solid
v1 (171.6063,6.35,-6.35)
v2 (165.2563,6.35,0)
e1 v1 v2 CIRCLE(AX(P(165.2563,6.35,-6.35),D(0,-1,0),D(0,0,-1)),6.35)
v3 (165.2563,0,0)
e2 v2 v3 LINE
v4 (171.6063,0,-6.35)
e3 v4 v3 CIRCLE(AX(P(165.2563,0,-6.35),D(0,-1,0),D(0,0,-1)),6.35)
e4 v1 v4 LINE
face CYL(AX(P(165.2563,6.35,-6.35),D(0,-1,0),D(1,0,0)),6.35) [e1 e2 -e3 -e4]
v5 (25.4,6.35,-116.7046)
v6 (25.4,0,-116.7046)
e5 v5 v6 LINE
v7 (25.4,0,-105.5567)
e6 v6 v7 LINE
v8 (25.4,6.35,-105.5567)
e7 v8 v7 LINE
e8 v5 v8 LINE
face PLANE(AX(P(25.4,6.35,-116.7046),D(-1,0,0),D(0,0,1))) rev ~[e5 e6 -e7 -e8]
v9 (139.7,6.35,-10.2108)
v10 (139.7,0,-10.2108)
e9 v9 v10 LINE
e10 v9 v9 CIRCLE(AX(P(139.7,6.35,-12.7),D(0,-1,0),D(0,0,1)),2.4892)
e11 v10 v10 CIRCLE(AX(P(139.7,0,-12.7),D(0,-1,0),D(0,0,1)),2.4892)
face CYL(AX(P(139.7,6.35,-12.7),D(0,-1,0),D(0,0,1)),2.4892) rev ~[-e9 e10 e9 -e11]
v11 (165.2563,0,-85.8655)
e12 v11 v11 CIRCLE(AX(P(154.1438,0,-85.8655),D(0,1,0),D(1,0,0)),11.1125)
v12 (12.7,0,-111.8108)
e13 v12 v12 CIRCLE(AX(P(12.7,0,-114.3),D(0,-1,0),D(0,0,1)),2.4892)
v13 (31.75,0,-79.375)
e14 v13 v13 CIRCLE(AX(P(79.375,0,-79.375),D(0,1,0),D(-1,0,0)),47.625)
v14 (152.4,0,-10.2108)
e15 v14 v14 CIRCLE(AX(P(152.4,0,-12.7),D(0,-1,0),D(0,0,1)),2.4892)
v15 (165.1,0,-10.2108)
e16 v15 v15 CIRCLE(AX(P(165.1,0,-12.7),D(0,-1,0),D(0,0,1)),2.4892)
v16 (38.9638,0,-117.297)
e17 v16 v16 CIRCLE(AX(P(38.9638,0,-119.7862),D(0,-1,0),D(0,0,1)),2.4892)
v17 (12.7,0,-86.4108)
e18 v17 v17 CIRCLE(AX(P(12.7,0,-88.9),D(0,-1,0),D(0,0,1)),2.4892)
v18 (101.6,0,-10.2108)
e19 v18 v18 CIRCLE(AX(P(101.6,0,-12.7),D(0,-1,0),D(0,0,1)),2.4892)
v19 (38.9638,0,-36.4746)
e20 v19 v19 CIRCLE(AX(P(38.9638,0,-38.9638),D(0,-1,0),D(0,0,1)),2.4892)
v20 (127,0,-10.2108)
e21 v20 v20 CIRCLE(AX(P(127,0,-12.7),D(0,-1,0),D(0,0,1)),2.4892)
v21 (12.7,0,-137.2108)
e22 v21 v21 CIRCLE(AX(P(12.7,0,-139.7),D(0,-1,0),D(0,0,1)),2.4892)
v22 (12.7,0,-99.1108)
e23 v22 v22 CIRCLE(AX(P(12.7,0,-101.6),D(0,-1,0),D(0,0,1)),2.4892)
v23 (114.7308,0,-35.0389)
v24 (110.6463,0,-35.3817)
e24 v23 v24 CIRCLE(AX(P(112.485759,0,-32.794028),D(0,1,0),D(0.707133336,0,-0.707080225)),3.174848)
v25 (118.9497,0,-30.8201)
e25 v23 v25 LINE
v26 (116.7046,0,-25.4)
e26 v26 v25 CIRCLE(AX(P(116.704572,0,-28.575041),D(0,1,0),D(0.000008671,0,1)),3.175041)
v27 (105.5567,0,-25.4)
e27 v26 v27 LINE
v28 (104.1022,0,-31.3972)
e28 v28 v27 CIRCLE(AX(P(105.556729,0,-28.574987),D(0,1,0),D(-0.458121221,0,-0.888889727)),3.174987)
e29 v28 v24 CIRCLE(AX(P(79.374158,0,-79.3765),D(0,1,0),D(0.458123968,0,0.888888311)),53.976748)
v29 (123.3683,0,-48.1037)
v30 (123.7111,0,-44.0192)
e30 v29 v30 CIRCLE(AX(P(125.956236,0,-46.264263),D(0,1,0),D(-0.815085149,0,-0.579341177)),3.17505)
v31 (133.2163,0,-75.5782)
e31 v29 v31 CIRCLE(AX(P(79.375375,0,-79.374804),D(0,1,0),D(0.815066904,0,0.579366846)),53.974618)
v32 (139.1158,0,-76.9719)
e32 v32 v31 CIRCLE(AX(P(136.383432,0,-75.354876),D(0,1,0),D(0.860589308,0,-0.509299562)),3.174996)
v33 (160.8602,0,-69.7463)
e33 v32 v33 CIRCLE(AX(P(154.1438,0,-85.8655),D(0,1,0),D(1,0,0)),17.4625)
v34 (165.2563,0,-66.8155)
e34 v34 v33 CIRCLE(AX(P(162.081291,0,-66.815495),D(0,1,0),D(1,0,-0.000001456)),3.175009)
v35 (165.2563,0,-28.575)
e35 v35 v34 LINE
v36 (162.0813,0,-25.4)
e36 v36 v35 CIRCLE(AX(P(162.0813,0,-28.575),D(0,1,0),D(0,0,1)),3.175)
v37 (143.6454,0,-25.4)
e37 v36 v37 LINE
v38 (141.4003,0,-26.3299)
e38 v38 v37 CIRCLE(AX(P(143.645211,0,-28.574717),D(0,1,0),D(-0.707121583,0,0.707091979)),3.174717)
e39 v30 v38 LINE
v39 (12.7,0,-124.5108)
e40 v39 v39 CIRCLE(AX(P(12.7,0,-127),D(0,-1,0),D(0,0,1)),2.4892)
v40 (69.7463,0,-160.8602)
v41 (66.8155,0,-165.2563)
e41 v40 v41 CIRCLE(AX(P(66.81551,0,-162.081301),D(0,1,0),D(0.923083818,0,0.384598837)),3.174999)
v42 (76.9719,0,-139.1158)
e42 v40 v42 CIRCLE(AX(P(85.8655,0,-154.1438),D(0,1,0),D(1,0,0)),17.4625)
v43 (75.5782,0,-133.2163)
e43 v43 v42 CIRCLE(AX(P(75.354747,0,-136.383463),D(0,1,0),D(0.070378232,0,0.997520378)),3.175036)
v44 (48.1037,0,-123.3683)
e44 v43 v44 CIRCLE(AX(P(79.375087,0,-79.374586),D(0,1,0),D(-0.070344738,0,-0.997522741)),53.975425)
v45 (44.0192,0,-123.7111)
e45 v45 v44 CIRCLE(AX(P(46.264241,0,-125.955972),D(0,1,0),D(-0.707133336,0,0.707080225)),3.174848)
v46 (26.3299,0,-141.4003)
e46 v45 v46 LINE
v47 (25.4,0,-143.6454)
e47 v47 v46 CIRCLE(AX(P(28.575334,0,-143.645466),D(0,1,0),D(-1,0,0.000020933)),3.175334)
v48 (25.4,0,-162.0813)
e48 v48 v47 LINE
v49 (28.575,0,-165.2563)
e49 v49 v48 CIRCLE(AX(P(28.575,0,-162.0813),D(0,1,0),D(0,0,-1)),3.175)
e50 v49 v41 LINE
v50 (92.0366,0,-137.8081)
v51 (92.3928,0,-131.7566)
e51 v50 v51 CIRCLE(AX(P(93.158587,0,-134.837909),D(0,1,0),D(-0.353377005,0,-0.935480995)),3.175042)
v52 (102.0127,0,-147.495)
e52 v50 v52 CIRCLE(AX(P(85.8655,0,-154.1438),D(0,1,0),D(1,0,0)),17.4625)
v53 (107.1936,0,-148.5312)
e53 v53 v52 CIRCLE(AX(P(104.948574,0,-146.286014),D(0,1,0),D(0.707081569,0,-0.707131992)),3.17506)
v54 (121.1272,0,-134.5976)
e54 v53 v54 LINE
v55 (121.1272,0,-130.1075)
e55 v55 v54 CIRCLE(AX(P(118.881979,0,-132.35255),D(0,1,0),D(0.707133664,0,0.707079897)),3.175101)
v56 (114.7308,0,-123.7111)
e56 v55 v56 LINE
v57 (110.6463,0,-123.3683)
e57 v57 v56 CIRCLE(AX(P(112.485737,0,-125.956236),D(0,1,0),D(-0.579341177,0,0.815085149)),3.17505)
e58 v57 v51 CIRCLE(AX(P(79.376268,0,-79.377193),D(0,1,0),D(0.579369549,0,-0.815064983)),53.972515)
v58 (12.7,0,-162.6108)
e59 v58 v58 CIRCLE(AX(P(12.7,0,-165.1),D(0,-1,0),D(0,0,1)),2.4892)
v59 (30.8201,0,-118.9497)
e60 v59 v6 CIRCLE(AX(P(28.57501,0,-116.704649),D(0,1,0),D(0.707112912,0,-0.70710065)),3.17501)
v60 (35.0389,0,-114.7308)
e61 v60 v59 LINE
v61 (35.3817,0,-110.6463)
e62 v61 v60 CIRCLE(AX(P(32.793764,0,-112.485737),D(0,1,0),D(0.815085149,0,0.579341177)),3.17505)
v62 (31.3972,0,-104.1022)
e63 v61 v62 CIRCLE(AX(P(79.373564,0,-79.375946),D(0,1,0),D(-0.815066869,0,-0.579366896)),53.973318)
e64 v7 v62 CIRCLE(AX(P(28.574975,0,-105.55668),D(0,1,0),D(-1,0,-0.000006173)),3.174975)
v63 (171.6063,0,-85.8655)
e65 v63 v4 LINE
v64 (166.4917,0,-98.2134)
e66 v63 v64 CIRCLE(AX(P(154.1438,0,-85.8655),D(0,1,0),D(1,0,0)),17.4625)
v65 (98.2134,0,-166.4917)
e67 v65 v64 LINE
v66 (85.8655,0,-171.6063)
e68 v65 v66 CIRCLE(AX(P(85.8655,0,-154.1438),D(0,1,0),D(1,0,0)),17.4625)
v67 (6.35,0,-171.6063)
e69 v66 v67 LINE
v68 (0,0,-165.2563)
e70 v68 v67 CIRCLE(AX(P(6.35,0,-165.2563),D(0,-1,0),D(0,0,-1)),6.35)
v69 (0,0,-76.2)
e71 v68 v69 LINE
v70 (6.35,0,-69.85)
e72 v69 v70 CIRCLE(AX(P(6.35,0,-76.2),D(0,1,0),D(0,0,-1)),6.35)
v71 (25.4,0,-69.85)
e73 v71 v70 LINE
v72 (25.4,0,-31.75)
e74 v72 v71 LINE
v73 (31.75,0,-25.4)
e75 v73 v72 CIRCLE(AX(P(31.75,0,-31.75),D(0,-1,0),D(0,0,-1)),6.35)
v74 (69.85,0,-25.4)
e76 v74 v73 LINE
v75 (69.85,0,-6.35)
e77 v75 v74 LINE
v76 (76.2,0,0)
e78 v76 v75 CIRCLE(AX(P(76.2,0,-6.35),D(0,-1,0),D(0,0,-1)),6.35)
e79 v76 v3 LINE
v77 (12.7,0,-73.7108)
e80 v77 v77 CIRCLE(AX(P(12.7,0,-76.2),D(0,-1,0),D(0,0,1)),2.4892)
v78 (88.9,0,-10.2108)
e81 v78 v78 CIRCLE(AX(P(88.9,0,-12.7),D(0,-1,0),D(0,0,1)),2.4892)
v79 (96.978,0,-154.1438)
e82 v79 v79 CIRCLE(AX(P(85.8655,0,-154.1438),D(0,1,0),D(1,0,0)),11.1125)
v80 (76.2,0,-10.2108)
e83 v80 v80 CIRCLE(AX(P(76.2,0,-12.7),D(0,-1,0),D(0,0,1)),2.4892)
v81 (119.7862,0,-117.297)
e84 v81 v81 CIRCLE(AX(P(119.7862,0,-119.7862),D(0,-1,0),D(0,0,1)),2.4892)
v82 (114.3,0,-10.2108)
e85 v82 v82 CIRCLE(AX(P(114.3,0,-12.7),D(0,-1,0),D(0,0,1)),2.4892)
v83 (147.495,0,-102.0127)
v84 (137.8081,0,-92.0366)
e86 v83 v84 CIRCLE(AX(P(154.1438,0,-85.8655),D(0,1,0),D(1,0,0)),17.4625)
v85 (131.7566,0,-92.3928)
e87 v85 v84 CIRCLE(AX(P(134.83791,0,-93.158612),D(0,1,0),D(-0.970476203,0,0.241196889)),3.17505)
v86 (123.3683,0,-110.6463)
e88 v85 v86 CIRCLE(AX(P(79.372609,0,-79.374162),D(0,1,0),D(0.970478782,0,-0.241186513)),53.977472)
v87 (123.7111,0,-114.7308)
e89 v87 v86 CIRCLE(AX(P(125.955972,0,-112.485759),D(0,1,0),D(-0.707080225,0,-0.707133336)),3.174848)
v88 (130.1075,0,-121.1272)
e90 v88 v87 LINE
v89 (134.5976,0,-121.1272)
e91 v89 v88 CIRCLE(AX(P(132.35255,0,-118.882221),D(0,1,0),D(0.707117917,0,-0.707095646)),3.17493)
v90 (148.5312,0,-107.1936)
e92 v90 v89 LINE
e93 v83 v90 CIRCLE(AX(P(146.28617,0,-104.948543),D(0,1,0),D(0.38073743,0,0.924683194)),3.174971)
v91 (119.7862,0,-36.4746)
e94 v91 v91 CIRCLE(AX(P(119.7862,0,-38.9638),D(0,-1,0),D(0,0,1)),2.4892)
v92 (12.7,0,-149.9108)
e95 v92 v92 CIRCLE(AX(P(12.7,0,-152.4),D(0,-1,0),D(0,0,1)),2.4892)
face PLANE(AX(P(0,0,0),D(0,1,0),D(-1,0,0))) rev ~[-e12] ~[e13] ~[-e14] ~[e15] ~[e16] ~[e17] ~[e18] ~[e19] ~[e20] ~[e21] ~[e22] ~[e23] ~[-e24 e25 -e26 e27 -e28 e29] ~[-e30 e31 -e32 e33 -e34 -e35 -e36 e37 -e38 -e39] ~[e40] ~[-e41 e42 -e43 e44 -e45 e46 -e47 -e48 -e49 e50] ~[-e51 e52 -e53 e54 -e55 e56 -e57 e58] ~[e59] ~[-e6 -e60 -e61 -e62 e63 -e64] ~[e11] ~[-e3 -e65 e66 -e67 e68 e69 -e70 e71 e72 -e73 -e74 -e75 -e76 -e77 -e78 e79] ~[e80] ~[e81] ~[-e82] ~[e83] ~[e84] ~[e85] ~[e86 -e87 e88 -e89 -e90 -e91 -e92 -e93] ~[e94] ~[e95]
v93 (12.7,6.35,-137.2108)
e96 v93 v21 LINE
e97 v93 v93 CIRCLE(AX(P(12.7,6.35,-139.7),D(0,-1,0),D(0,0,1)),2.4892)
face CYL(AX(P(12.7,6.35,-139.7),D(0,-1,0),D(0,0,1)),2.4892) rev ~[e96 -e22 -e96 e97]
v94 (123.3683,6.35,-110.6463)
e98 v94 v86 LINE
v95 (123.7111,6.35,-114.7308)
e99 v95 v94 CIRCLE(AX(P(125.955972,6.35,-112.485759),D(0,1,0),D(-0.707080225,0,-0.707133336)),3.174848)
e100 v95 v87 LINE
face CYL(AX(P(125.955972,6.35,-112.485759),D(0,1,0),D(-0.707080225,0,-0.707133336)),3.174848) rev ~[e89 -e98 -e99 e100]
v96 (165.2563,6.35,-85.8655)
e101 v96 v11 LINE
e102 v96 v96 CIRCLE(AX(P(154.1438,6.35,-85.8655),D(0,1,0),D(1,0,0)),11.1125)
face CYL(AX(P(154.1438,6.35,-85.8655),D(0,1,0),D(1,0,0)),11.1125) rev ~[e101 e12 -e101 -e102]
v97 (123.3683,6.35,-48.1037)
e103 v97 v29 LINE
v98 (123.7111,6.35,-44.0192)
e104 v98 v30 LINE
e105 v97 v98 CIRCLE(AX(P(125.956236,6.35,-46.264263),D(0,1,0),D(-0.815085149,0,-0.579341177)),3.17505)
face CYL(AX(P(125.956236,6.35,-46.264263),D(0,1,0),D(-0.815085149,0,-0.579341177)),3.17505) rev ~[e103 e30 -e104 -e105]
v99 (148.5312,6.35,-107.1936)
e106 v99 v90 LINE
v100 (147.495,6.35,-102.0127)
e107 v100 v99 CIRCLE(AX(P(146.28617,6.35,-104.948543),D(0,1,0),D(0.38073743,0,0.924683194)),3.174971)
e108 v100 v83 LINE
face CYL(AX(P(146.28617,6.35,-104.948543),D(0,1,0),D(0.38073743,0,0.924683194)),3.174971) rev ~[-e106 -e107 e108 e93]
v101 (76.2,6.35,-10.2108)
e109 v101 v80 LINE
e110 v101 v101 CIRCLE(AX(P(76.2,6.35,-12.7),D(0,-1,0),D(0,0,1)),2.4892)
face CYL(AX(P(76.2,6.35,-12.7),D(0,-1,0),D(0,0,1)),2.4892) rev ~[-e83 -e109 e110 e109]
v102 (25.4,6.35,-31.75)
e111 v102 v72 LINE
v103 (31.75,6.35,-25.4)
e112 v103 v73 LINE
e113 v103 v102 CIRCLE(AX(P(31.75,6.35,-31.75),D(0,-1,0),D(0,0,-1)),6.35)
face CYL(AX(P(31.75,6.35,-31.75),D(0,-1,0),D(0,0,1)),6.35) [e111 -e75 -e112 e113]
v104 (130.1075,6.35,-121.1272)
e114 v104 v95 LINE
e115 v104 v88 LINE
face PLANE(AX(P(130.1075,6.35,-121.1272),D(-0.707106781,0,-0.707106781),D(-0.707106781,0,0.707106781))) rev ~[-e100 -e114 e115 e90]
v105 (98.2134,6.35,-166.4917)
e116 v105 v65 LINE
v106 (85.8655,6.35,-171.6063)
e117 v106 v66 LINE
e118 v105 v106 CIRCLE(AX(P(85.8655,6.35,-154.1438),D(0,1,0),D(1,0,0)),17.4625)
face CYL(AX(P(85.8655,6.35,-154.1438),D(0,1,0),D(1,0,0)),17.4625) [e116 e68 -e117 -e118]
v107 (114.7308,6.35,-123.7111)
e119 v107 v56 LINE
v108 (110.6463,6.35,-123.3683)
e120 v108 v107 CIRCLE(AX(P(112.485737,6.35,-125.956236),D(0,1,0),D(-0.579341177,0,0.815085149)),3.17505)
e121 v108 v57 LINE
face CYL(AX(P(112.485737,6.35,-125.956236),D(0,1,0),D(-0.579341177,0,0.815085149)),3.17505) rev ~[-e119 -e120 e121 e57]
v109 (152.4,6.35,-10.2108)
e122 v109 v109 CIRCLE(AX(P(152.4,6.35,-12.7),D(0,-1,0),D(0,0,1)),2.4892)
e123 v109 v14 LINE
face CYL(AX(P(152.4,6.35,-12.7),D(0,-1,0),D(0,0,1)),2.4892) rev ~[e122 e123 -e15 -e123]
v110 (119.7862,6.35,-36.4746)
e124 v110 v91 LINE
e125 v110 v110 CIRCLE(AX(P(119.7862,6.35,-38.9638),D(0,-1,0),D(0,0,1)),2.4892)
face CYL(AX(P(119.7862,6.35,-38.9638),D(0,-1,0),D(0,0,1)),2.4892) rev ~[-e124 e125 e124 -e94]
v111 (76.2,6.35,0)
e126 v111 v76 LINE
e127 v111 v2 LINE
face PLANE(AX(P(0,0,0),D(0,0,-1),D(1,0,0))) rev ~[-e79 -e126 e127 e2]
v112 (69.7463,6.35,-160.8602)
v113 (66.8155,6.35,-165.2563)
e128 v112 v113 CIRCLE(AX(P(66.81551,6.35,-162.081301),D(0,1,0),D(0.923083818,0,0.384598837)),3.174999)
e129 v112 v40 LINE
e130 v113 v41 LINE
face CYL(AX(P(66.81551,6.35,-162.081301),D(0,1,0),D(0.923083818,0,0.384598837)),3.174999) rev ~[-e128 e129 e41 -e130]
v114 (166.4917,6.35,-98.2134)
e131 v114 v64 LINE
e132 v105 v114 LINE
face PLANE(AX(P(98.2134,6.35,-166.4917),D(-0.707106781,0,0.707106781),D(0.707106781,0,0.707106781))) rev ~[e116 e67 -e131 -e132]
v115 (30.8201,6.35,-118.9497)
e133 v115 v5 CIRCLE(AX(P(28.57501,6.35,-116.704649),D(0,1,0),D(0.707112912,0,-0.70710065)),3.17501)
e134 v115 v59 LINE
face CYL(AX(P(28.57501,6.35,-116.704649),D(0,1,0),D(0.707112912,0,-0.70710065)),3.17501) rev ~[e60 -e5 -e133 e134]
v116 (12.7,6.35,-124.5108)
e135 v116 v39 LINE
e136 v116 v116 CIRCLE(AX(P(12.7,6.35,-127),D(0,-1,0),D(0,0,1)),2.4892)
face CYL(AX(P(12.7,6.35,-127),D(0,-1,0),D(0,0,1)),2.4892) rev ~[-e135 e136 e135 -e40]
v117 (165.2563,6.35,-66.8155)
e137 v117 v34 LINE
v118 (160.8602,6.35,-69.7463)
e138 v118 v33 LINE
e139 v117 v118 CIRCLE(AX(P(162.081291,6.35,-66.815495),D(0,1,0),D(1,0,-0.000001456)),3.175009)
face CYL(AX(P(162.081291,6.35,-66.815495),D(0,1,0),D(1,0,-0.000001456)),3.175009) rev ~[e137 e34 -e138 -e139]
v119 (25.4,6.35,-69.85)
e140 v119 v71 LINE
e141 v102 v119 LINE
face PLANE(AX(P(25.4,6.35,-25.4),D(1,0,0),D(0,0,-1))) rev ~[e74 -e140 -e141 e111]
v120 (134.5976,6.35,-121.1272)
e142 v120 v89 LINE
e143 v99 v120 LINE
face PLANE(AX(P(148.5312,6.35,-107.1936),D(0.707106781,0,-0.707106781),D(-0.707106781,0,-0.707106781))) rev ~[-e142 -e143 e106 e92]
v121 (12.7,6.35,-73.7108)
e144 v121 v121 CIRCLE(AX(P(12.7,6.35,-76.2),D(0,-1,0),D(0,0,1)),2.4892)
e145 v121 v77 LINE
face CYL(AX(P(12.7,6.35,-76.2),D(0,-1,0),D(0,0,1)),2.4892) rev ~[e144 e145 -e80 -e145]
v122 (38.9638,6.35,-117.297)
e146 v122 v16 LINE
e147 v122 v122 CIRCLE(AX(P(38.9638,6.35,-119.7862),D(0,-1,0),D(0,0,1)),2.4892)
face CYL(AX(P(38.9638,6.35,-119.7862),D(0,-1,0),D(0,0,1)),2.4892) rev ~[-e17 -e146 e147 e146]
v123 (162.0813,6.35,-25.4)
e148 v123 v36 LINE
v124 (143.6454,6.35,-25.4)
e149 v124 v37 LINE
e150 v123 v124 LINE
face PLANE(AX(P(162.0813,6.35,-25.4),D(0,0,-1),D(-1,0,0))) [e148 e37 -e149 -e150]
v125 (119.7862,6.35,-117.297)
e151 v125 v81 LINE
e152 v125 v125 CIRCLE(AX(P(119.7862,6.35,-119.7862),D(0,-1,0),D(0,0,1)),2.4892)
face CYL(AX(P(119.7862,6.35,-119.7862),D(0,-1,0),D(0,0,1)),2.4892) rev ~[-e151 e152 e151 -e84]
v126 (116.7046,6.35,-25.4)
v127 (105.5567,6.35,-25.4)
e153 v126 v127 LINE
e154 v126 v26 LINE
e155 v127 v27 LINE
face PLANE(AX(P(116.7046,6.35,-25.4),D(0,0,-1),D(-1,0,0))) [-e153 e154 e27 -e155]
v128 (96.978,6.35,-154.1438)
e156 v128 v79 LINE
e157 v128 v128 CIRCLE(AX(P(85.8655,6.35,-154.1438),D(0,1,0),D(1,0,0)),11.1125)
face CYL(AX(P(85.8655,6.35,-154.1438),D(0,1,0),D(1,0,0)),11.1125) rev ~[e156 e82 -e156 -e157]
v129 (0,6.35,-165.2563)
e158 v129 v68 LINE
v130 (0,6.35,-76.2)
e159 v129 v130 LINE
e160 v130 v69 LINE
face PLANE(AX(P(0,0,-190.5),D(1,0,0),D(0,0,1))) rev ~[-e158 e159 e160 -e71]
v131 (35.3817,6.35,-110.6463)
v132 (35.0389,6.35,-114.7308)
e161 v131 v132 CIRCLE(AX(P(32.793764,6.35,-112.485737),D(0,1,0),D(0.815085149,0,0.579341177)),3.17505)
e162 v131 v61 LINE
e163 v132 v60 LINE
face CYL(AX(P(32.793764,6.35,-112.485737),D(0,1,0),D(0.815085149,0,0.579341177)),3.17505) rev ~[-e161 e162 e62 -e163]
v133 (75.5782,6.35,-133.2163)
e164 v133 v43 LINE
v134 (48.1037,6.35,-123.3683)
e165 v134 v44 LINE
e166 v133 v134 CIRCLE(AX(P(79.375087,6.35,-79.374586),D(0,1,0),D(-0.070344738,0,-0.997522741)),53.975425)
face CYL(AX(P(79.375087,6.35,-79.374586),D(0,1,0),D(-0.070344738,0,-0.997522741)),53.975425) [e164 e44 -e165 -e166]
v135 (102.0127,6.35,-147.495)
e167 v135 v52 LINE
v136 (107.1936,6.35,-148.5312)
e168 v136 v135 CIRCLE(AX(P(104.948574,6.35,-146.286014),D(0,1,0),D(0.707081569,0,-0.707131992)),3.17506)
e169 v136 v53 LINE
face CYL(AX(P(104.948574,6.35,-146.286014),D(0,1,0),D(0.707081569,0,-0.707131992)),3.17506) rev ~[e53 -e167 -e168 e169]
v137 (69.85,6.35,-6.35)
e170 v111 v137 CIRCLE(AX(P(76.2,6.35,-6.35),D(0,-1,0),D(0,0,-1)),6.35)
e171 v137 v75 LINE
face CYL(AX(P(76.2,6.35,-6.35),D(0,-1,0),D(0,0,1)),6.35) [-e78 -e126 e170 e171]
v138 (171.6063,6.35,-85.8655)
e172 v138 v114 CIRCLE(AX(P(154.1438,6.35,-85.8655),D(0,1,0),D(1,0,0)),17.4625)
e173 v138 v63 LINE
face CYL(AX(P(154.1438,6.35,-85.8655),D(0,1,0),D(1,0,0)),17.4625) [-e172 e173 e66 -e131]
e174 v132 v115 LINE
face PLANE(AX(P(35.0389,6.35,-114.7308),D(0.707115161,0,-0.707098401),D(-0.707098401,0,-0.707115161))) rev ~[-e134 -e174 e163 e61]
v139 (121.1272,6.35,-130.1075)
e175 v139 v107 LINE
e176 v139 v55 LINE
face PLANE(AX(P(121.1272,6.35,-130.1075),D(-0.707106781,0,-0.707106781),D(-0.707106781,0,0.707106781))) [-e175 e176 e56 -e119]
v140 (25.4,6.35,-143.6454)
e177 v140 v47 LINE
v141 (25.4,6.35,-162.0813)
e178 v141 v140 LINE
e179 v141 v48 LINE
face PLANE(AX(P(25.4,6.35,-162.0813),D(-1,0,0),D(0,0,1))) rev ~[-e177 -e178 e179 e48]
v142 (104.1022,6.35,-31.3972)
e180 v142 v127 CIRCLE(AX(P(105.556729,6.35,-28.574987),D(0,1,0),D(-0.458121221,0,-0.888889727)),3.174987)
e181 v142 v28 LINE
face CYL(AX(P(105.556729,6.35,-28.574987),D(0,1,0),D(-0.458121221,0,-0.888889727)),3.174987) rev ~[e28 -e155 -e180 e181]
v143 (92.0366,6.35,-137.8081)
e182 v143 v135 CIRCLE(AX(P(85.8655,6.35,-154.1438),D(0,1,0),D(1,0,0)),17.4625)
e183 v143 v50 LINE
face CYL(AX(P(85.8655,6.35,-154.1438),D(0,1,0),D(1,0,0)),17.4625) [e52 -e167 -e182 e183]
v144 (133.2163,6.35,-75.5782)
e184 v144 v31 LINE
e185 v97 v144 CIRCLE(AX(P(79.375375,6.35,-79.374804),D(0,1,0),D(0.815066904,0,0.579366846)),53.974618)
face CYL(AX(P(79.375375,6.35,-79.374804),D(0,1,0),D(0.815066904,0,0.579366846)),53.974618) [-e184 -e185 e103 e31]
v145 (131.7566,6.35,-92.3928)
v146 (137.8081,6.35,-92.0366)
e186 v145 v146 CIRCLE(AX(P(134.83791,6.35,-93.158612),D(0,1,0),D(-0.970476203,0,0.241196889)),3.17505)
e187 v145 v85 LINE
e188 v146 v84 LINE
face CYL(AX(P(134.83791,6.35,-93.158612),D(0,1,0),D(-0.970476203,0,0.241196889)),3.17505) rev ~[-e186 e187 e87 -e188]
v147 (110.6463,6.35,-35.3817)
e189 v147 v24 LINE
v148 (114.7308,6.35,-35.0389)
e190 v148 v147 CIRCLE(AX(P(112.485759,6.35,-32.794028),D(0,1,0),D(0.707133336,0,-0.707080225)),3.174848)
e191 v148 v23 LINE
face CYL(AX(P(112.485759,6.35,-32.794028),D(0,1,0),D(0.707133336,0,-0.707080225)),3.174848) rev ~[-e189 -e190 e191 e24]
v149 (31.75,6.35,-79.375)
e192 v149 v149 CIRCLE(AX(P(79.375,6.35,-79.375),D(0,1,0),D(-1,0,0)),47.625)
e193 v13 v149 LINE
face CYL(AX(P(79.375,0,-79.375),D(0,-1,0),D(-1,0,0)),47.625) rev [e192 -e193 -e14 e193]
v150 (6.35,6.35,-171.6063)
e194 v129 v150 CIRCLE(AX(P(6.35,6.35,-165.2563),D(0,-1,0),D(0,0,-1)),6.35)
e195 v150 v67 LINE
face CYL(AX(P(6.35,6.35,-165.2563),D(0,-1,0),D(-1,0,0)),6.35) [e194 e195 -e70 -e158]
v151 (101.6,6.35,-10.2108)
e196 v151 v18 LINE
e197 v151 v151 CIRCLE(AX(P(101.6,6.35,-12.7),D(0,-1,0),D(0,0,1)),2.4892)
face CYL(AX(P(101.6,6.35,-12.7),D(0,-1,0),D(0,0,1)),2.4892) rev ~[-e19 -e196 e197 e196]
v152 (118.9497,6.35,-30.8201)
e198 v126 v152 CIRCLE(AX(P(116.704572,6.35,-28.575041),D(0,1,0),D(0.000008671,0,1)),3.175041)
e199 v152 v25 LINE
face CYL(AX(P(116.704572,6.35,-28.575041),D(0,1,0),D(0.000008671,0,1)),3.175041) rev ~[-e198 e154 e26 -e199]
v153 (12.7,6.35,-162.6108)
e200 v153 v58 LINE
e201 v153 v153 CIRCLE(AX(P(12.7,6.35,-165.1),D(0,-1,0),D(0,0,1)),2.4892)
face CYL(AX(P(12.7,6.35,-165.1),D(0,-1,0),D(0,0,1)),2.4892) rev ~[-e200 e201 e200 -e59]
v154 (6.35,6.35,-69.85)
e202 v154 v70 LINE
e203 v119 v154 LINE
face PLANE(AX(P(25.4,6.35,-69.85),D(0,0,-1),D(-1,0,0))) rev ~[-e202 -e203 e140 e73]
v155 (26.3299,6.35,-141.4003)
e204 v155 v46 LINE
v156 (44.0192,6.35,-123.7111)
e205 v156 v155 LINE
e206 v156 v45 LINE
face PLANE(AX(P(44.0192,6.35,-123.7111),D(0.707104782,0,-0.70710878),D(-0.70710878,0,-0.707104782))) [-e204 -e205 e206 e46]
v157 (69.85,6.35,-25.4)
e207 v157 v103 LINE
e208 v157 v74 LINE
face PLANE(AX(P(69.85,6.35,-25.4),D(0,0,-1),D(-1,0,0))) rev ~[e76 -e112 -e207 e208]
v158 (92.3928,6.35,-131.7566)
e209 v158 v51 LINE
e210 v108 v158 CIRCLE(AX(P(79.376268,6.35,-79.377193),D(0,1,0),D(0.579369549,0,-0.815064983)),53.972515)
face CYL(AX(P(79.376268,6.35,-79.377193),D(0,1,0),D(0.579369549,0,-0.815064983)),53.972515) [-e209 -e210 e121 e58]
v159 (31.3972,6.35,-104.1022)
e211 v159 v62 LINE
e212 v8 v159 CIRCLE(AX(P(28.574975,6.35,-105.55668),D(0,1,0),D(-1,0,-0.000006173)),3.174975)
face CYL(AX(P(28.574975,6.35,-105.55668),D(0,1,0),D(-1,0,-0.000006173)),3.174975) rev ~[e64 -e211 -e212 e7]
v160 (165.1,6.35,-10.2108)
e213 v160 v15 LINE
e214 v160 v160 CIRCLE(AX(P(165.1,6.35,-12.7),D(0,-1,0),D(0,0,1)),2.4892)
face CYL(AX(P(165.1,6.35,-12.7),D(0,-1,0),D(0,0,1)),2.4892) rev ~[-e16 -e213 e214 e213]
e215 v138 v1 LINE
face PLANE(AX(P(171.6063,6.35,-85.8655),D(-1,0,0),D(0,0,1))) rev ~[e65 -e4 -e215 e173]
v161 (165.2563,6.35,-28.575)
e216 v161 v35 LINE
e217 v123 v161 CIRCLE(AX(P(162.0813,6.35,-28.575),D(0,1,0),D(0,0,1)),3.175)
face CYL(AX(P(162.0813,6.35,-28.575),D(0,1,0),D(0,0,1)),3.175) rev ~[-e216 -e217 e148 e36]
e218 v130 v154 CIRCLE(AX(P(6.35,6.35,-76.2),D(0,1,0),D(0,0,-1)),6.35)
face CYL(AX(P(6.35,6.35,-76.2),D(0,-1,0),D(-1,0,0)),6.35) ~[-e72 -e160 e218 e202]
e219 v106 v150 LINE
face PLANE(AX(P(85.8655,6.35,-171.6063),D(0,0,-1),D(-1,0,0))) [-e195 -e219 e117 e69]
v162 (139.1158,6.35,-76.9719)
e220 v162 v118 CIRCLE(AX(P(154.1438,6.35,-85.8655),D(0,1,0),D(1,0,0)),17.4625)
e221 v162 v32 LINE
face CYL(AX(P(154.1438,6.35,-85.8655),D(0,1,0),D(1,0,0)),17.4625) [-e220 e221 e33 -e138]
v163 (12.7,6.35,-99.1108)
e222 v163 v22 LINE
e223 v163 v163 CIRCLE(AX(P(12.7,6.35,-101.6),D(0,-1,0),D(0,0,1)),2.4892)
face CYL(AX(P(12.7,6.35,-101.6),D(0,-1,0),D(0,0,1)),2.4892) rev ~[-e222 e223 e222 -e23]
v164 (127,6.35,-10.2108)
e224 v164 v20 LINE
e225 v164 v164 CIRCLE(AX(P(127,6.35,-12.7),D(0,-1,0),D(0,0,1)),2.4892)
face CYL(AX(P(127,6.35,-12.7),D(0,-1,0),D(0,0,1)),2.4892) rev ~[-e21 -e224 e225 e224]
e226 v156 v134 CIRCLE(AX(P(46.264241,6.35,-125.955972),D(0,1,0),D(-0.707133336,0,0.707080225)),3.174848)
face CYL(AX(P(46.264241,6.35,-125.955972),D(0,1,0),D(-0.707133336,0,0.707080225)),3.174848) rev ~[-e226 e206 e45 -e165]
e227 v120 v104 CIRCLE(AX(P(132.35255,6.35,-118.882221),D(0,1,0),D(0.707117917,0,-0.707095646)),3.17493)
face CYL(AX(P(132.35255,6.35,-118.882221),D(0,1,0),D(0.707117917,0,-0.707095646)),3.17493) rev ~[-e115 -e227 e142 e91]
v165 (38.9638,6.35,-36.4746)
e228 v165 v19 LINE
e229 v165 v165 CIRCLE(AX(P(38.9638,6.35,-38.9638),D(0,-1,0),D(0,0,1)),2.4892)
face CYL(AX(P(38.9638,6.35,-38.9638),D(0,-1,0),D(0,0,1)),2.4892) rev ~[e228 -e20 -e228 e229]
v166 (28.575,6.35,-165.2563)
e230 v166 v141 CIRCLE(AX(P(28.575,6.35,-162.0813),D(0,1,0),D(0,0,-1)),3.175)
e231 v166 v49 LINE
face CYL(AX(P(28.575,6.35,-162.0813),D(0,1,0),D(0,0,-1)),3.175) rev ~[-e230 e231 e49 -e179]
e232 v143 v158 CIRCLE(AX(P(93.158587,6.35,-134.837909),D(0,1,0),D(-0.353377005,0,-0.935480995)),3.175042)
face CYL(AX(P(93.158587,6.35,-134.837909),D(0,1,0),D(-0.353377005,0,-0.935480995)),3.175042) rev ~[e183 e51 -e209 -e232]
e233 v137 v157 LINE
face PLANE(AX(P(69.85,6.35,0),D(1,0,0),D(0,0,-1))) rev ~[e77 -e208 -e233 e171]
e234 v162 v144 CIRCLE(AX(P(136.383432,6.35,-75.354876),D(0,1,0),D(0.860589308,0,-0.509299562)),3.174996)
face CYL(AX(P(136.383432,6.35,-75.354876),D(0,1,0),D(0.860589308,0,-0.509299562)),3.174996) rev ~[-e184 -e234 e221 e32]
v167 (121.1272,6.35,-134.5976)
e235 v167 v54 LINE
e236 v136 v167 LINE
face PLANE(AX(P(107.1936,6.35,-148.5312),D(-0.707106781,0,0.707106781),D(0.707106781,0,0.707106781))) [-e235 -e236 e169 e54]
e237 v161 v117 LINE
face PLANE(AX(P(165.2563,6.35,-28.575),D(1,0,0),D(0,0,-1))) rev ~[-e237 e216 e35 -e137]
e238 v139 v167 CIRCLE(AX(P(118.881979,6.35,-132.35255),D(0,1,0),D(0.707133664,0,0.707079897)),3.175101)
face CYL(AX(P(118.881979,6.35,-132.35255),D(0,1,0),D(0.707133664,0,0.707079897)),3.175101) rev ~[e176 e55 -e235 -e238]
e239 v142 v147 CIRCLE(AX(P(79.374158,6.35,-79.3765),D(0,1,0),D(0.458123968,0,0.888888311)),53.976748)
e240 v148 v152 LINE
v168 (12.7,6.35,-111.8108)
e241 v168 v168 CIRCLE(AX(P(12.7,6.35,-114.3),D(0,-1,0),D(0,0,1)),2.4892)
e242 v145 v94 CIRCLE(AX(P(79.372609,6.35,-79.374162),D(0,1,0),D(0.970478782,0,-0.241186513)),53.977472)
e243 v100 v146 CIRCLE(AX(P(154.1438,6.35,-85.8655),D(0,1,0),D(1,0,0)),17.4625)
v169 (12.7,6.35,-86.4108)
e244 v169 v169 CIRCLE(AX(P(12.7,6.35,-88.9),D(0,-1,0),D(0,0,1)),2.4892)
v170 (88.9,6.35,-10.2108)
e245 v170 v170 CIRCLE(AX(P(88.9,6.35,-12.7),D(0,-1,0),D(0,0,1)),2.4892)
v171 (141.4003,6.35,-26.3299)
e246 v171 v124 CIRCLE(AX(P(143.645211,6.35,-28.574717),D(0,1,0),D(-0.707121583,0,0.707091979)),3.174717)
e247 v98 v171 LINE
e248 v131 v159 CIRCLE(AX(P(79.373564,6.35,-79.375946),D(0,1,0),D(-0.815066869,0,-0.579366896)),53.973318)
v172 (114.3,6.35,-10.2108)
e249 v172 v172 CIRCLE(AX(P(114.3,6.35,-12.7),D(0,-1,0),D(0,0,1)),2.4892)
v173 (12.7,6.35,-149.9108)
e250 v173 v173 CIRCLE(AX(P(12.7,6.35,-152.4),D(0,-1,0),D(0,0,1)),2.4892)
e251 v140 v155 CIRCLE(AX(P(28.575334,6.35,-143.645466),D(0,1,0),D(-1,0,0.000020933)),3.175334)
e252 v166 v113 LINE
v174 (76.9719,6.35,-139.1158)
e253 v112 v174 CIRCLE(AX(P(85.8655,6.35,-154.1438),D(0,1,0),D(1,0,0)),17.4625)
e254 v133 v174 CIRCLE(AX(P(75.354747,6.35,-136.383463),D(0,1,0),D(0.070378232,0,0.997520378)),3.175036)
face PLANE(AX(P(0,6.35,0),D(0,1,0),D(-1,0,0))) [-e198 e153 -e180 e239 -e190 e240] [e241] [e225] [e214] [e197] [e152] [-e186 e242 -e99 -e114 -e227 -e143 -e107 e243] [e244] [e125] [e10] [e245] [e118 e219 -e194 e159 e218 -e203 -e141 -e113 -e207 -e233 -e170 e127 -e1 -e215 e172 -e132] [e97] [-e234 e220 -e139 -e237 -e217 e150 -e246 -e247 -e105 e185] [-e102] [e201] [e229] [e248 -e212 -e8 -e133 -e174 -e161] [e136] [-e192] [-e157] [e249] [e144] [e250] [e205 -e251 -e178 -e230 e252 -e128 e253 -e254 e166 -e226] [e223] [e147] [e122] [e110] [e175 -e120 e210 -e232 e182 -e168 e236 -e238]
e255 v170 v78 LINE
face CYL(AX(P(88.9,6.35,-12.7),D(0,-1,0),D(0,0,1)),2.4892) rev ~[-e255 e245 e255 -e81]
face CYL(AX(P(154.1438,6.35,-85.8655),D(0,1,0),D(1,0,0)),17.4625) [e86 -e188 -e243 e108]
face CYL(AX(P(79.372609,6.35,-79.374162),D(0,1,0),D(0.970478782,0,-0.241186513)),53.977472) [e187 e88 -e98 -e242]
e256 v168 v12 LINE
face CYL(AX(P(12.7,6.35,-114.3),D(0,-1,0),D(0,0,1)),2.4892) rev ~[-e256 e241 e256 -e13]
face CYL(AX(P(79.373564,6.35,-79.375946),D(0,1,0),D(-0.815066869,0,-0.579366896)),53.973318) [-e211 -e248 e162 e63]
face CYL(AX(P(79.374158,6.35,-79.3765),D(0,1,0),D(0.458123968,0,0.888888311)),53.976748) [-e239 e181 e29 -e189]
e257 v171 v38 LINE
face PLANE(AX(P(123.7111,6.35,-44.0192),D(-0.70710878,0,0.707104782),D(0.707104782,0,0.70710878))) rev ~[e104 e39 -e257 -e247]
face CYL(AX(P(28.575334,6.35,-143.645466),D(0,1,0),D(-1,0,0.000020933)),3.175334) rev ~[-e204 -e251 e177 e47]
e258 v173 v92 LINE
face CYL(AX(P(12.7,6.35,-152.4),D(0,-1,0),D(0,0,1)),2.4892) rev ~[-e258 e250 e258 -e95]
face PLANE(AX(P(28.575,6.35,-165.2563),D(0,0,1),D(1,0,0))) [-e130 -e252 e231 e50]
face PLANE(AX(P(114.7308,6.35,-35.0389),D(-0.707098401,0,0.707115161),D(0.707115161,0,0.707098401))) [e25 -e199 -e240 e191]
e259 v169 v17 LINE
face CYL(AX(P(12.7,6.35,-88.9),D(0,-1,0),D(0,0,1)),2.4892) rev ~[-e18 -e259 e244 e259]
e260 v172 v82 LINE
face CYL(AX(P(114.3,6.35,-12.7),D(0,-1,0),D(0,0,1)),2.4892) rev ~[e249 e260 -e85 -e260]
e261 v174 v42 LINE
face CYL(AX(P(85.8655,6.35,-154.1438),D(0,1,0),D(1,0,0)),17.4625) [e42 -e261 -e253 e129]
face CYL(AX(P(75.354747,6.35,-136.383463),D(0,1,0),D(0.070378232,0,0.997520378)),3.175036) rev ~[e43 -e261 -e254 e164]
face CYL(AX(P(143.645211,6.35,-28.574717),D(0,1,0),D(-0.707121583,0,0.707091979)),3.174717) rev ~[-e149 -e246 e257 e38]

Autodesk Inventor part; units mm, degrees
ref_plane "YZ Plane" through (0, 0, 0) normal (1, 0, 0) x (0, 1, 0)
ref_plane "XZ Plane" through (0, 0, 0) normal (0, 1, 0) x (-1, 0, 0)
ref_plane "XY Plane" through (0, 0, 0) normal (0, 0, 1) x (1, 0, 0)
sketch "Sketch1" plane through (0, 0, 0) normal (0, 1, 0) x (-1, 0, 0)
  line L0 (0, 0) -> (-190.5, 0)
  line L1 (-190.5, 0) -> (-190.5, -190.5)
  line L2 (-190.5, -190.5) -> (0, -190.5)
  line L3 (0, -190.5) -> (0, 0)
  circle A0 centre (-79.375, -79.375) radius 47.625
  line L4 (-25.4, -190.5) -> (-25.4, 0) construction
  line L5 (0, -25.4) -> (-190.5, -25.4) construction
  line L6 (0, 0) -> (-190.5, -190.5) construction
  circle A1 centre (-79.375, -79.375) radius 53.975 construction
  dimension "d0" = 95.25
  dimension "d3" = 25.4
  dimension "d4" = 25.4
  dimension "d5" = 107.95
  dimension "d48" = 165.1
extrude "Extrusion1" add sketch "Sketch1" along normal blind 6.35
sketch "Sketch2" plane through (0, 6.35, 0) normal (0, 1, 0) x (1, 0, 0)
  circle A0 centre (79.375, 79.375) radius 47.625 construction
  circle A1 centre (79.375, 79.375) radius 57.15 construction
  line L0 (0, 190.5) -> (0, 0) construction
  arc A2 (177.8, 76.2) -> (76.2, 177.8) centre (76.2, 76.2) ccw construction
  line L1 (38.9638, 38.9638) -> (119.7862, 38.9638) construction
  line L2 (119.7862, 38.9638) -> (119.7862, 119.7862) construction
  line L3 (119.7862, 119.7862) -> (38.9638, 119.7862) construction
  line L4 (38.9638, 119.7862) -> (38.9638, 38.9638) construction
  dimension "d9" = 114.3
hole "Hole1" at (38.9638, 6.35, -38.9638) at (119.7862, 6.35, -119.7862) at (119.7862, 6.35, -38.9638) at (38.9638, 6.35, -119.7862) direction (0, -1, 0) diameter 4.9784 end through all
sketch "Sketch4" plane through (0, 6.35, 0) normal (0, 1, 0) x (1, 0, 0)
  line L0 (0, 0) -> (190.5, 0) projected
  line L1 (0, 0) -> (25.4, 0)
  line L2 (25.4, 0) -> (25.4, 69.85)
  line L3 (25.4, 69.85) -> (0, 69.85)
  line L4 (0, 69.85) -> (0, 0)
  line L5 (25.4, 0) -> (69.85, 0)
  line L6 (69.85, 0) -> (69.85, 25.4)
  line L7 (69.85, 25.4) -> (25.4, 25.4)
  line L8 (25.4, 25.4) -> (25.4, 0)
  dimension "d26" = 25.4
  dimension "d27" = 69.85
  dimension "d28" = 44.45
  dimension "d29" = 25.4
extrude "Extrusion3" cut sketch "Sketch4" against normal through all
sketch "Sketch5" plane through (0, 6.35, 0) normal (0, 1, 0) x (1, 0, 0)
  circle A0 centre (154.1438, 85.8655) radius 11.1125
  circle A1 centre (79.375, 79.375) radius 47.625 construction
  circle A2 centre (79.375, 79.375) radius 75.05 construction
  circle A3 centre (153.2048, 55.4) radius 25.4 construction
  circle A4 centre (119.7862, 38.9638) radius 2.4892 construction
  circle A5 centre (38.9638, 38.9638) radius 2.4892 construction
  circle A6 centre (119.7862, 119.7862) radius 2.4892 construction
  line L0 (38.9638, 38.9638) -> (119.7862, 119.7862) construction
  circle A7 centre (85.8655, 154.1438) radius 11.1125
  circle A8 centre (153.2048, 55.4) radius 7.62 construction
  circle A9 centre (154.1438, 85.8655) radius 22.86 construction
  line L1 (69.85, 0) -> (69.85, 25.4) construction
  line L2 (69.85, 25.4) -> (168.2375, 25.4) construction
  circle A10 centre (153.2048, 55.4) radius 30 construction
  circle A11 centre (153.2048, 55.4) radius 9.525
  circle A12 centre (55.4, 153.2048) radius 9.525
  circle A13 centre (79.375, 79.375) radius 47.625 projected
  point P0 (0, 0)
  dimension "d38" = 150.1
  dimension "d37" = 22.225
  dimension "d43" = 15.24
  dimension "d44" = 45.72
  dimension "d46" = 50.8
  dimension "d47" = 60
  dimension "d72" = 19.05
extrude "Extrusion4" cut sketch "Sketch5" against normal through all contours A0 | A7
sketch "Sketch6" plane through (0, 6.35, 0) normal (0, 1, 0) x (1, 0, 0)
  line L0 (69.85, 0) -> (190.5, 0) projected
  line L1 (0, 190.5) -> (0, 69.85) projected
  point P0 (0, 0)
  point P1 (12.7, 12.7)
  point P2 (76.2, 0)
  point P3 (184.15, 0)
  point P4 (25.4, 12.7)
  point P5 (38.1, 12.7)
  point P6 (50.8, 12.7)
  point P7 (63.5, 12.7)
  point P8 (76.2, 12.7)
  point P9 (88.9, 12.7)
  point P10 (101.6, 12.7)
  point P11 (114.3, 12.7)
  point P12 (127, 12.7)
  point P13 (139.7, 12.7)
  point P14 (152.4, 12.7)
  point P15 (165.1, 12.7)
  point P16 (177.8, 12.7)
  point P17 (0, 184.15)
  point P18 (0, 76.2)
  point P19 (12.7, 25.4)
  point P20 (12.7, 38.1)
  point P21 (12.7, 50.8)
  point P22 (12.7, 63.5)
  point P23 (12.7, 76.2)
  point P24 (12.7, 88.9)
  point P25 (12.7, 101.6)
  point P26 (12.7, 114.3)
  point P27 (12.7, 127)
  point P28 (12.7, 139.7)
  point P29 (12.7, 152.4)
  point P30 (12.7, 165.1)
  point P31 (12.7, 177.8)
  dimension "d49" = 12.7
  dimension "d50" = 12.7
  dimension "d53" = 12.7
  dimension "d60" = 12.7
hole "Hole2" at (12.7, 6.35, -12.7) at (25.4, 6.35, -12.7) at (38.1, 6.35, -12.7) at (50.8, 6.35, -12.7) at (63.5, 6.35, -12.7) at (76.2, 6.35, -12.7) at (88.9, 6.35, -12.7) at (101.6, 6.35, -12.7) at (114.3, 6.35, -12.7) at (127, 6.35, -12.7) at (139.7, 6.35, -12.7) at (152.4, 6.35, -12.7) at (165.1, 6.35, -12.7) at (177.8, 6.35, -12.7) at (12.7, 6.35, -25.4) at (12.7, 6.35, -38.1) at (12.7, 6.35, -50.8) at (12.7, 6.35, -63.5) at (12.7, 6.35, -76.2) at (12.7, 6.35, -88.9) at (12.7, 6.35, -101.6) at (12.7, 6.35, -114.3) at (12.7, 6.35, -127) at (12.7, 6.35, -139.7) at (12.7, 6.35, -152.4) at (12.7, 6.35, -165.1) at (12.7, 6.35, -177.8) direction (0, -1, 0) diameter 4.9784 end through all
sketch "Sketch8" plane through (0, 6.35, 0) normal (0, 1, 0) x (1, 0, 0)
  circle A0 centre (85.8655, 154.1438) radius 11.1125 projected
  circle A1 centre (85.8655, 154.1438) radius 17.4625
  circle A2 centre (154.1438, 85.8655) radius 11.1125 projected
  circle A3 centre (154.1438, 85.8655) radius 17.4625
  line L0 (85.8655, 171.6063) -> (0, 171.6063)
  line L1 (0, 190.5) -> (0, 69.85) projected
  line L2 (171.6063, 85.8655) -> (171.6063, 0)
  line L3 (69.85, 0) -> (190.5, 0) projected
  line L4 (98.2134, 166.4917) -> (166.4917, 98.2134)
  line L5 (190.5, 190.5) -> (0, 190.5) projected
  line L6 (190.5, 0) -> (190.5, 190.5) projected
  line L7 (28.575, 165.2563) -> (66.8155, 165.2563)
  arc A4 (69.7463, 160.8602) -> (76.9719, 139.1158) centre (85.8655, 154.1438) ccw
  circle A5 centre (79.375, 79.375) radius 47.625 projected
  circle A6 centre (38.9638, 119.7862) radius 2.4892 projected
  arc A7 (75.5782, 133.2163) -> (48.1037, 123.3683) centre (79.375, 79.375) ccw
  arc A8 (35.3817, 110.6463) -> (31.3972, 104.1022) centre (79.375, 79.375) ccw
  arc A9 (25.4, 105.5567) -> (31.3972, 104.1022) centre (28.575, 105.5567) ccw
  arc A10 (28.575, 165.2563) -> (25.4, 162.0813) centre (28.575, 162.0813) ccw
  arc A11 (69.7463, 160.8602) -> (66.8155, 165.2563) centre (66.8155, 162.0813) ccw
  arc A12 (75.5782, 133.2163) -> (76.9719, 139.1158) centre (75.3548, 136.3834) ccw
  arc A13 (44.0192, 123.7111) -> (48.1037, 123.3683) centre (46.2643, 125.9561) ccw
  arc A14 (35.3817, 110.6463) -> (35.0389, 114.7308) centre (32.7939, 112.4857) ccw
  line L8 (25.4, 69.85) -> (25.4, 25.4) projected
  line L9 (107.1936, 148.5312) -> (121.1272, 134.5976)
  line L10 (121.1272, 130.1075) -> (114.7308, 123.7111)
  arc A15 (110.6463, 123.3683) -> (92.3928, 131.7566) centre (79.375, 79.375) ccw
  arc A16 (92.0366, 137.8081) -> (102.0127, 147.495) centre (85.8655, 154.1438) ccw
  circle A17 centre (119.7862, 119.7862) radius 2.4892 construction
  line L11 (79.375, 79.375) -> (119.7862, 119.7862) construction
  arc A18 (92.0366, 137.8081) -> (92.3928, 131.7566) centre (93.1586, 134.8379) ccw
  arc A19 (107.1936, 148.5312) -> (102.0127, 147.495) centre (104.9486, 146.2861) ccw
  arc A20 (121.1272, 130.1075) -> (121.1272, 134.5976) centre (118.8821, 132.3525) ccw
  arc A21 (110.6463, 123.3683) -> (114.7308, 123.7111) centre (112.4857, 125.9561) ccw
  line L12 (148.5312, 107.1936) -> (134.5976, 121.1272)
  line L13 (130.1075, 121.1272) -> (123.7111, 114.7308)
  arc A22 (131.7566, 92.3928) -> (123.3683, 110.6463) centre (79.375, 79.375) ccw
  arc A23 (147.495, 102.0127) -> (137.8081, 92.0366) centre (154.1438, 85.8655) ccw
  arc A24 (131.7566, 92.3928) -> (137.8081, 92.0366) centre (134.8379, 93.1586) ccw
  arc A25 (147.495, 102.0127) -> (148.5312, 107.1936) centre (146.2861, 104.9486) ccw
  arc A26 (134.5976, 121.1272) -> (130.1075, 121.1272) centre (132.3525, 118.8821) ccw
  arc A27 (123.7111, 114.7308) -> (123.3683, 110.6463) centre (125.9561, 112.4857) ccw
  line L14 (35.0389, 114.7308) -> (30.8201, 118.9497)
  line L15 (44.0192, 123.7111) -> (26.3299, 141.4003)
  line L16 (79.375, 79.375) -> (38.9638, 119.7862) construction
  line L17 (25.4, 162.0813) -> (25.4, 143.6454)
  line L18 (25.4, 116.7046) -> (25.4, 105.5567)
  arc A28 (25.4, 143.6454) -> (26.3299, 141.4003) centre (28.575, 143.6454) ccw
  arc A29 (30.8201, 118.9497) -> (25.4, 116.7046) centre (28.575, 116.7046) ccw
  line L19 (165.2563, 28.575) -> (165.2563, 66.8155)
  arc A30 (139.1158, 76.9719) -> (160.8602, 69.7463) centre (154.1438, 85.8655) ccw
  arc A31 (123.3683, 48.1037) -> (133.2163, 75.5782) centre (79.375, 79.375) ccw
  arc A32 (104.1022, 31.3972) -> (110.6463, 35.3817) centre (79.375, 79.375) ccw
  arc A33 (104.1022, 31.3972) -> (105.5567, 25.4) centre (105.5567, 28.575) ccw
  arc A34 (162.0813, 25.4) -> (165.2563, 28.575) centre (162.0813, 28.575) ccw
  arc A35 (165.2563, 66.8155) -> (160.8602, 69.7463) centre (162.0813, 66.8155) ccw
  arc A36 (139.1158, 76.9719) -> (133.2163, 75.5782) centre (136.3834, 75.3548) ccw
  arc A37 (123.3683, 48.1037) -> (123.7111, 44.0192) centre (125.9561, 46.2643) ccw
  arc A38 (114.7308, 35.0389) -> (110.6463, 35.3817) centre (112.4857, 32.7939) ccw
  line L20 (114.7308, 35.0389) -> (118.9497, 30.8201)
  line L21 (123.7111, 44.0192) -> (141.4003, 26.3299)
  line L22 (162.0813, 25.4) -> (143.6454, 25.4)
  line L23 (116.7046, 25.4) -> (105.5567, 25.4)
  arc A39 (141.4003, 26.3299) -> (143.6454, 25.4) centre (143.6454, 28.575) ccw
  arc A40 (116.7046, 25.4) -> (118.9497, 30.8201) centre (116.7046, 28.575) ccw
  point P0 (0, 0)
  point P1 (160.8602, 69.7463)
  point P2 (139.1158, 76.9719)
  dimension "d94" = 34.925
  dimension "d98" = 3.175
  dimension "d99" = 6.35
  dimension "d102" = 6.35
  dimension "d103" = 6.35
  dimension "d105" = 6.35
  dimension "d108" = 6.35
  dimension "d109" = 6.35
  dimension "d113" = 6.35
  dimension "d114" = 6.35
extrude "Extrusion6" cut sketch "Sketch8" against normal through all contours A1 L0 L1 L5 L6 L3 L2 A3 L4 | A19 L9 A20 L10 A21 A15 A18 A1 | A1 A12 A7 A13 L15 A28 L17 A10 L7 A11 | A3 A24 A22 A27 L13 A26 L12 A25 | A35 L19 A34 L22 A39 L21 A37 A31 A36 A3 | A8 A9 L18 A29 L14 A14 | A32 A38 L20 A40 L23 A33
fillet "Fillet7" radius 6.35 5 edges at (25.4, 3.175, -25.4) (69.85, 3.175, 0) (171.6063, 3.175, 0) (0, 3.175, -69.85) (0, 3.175, -171.6063)
properties part number "Plate_Bottom" material "Aluminum 6061"
